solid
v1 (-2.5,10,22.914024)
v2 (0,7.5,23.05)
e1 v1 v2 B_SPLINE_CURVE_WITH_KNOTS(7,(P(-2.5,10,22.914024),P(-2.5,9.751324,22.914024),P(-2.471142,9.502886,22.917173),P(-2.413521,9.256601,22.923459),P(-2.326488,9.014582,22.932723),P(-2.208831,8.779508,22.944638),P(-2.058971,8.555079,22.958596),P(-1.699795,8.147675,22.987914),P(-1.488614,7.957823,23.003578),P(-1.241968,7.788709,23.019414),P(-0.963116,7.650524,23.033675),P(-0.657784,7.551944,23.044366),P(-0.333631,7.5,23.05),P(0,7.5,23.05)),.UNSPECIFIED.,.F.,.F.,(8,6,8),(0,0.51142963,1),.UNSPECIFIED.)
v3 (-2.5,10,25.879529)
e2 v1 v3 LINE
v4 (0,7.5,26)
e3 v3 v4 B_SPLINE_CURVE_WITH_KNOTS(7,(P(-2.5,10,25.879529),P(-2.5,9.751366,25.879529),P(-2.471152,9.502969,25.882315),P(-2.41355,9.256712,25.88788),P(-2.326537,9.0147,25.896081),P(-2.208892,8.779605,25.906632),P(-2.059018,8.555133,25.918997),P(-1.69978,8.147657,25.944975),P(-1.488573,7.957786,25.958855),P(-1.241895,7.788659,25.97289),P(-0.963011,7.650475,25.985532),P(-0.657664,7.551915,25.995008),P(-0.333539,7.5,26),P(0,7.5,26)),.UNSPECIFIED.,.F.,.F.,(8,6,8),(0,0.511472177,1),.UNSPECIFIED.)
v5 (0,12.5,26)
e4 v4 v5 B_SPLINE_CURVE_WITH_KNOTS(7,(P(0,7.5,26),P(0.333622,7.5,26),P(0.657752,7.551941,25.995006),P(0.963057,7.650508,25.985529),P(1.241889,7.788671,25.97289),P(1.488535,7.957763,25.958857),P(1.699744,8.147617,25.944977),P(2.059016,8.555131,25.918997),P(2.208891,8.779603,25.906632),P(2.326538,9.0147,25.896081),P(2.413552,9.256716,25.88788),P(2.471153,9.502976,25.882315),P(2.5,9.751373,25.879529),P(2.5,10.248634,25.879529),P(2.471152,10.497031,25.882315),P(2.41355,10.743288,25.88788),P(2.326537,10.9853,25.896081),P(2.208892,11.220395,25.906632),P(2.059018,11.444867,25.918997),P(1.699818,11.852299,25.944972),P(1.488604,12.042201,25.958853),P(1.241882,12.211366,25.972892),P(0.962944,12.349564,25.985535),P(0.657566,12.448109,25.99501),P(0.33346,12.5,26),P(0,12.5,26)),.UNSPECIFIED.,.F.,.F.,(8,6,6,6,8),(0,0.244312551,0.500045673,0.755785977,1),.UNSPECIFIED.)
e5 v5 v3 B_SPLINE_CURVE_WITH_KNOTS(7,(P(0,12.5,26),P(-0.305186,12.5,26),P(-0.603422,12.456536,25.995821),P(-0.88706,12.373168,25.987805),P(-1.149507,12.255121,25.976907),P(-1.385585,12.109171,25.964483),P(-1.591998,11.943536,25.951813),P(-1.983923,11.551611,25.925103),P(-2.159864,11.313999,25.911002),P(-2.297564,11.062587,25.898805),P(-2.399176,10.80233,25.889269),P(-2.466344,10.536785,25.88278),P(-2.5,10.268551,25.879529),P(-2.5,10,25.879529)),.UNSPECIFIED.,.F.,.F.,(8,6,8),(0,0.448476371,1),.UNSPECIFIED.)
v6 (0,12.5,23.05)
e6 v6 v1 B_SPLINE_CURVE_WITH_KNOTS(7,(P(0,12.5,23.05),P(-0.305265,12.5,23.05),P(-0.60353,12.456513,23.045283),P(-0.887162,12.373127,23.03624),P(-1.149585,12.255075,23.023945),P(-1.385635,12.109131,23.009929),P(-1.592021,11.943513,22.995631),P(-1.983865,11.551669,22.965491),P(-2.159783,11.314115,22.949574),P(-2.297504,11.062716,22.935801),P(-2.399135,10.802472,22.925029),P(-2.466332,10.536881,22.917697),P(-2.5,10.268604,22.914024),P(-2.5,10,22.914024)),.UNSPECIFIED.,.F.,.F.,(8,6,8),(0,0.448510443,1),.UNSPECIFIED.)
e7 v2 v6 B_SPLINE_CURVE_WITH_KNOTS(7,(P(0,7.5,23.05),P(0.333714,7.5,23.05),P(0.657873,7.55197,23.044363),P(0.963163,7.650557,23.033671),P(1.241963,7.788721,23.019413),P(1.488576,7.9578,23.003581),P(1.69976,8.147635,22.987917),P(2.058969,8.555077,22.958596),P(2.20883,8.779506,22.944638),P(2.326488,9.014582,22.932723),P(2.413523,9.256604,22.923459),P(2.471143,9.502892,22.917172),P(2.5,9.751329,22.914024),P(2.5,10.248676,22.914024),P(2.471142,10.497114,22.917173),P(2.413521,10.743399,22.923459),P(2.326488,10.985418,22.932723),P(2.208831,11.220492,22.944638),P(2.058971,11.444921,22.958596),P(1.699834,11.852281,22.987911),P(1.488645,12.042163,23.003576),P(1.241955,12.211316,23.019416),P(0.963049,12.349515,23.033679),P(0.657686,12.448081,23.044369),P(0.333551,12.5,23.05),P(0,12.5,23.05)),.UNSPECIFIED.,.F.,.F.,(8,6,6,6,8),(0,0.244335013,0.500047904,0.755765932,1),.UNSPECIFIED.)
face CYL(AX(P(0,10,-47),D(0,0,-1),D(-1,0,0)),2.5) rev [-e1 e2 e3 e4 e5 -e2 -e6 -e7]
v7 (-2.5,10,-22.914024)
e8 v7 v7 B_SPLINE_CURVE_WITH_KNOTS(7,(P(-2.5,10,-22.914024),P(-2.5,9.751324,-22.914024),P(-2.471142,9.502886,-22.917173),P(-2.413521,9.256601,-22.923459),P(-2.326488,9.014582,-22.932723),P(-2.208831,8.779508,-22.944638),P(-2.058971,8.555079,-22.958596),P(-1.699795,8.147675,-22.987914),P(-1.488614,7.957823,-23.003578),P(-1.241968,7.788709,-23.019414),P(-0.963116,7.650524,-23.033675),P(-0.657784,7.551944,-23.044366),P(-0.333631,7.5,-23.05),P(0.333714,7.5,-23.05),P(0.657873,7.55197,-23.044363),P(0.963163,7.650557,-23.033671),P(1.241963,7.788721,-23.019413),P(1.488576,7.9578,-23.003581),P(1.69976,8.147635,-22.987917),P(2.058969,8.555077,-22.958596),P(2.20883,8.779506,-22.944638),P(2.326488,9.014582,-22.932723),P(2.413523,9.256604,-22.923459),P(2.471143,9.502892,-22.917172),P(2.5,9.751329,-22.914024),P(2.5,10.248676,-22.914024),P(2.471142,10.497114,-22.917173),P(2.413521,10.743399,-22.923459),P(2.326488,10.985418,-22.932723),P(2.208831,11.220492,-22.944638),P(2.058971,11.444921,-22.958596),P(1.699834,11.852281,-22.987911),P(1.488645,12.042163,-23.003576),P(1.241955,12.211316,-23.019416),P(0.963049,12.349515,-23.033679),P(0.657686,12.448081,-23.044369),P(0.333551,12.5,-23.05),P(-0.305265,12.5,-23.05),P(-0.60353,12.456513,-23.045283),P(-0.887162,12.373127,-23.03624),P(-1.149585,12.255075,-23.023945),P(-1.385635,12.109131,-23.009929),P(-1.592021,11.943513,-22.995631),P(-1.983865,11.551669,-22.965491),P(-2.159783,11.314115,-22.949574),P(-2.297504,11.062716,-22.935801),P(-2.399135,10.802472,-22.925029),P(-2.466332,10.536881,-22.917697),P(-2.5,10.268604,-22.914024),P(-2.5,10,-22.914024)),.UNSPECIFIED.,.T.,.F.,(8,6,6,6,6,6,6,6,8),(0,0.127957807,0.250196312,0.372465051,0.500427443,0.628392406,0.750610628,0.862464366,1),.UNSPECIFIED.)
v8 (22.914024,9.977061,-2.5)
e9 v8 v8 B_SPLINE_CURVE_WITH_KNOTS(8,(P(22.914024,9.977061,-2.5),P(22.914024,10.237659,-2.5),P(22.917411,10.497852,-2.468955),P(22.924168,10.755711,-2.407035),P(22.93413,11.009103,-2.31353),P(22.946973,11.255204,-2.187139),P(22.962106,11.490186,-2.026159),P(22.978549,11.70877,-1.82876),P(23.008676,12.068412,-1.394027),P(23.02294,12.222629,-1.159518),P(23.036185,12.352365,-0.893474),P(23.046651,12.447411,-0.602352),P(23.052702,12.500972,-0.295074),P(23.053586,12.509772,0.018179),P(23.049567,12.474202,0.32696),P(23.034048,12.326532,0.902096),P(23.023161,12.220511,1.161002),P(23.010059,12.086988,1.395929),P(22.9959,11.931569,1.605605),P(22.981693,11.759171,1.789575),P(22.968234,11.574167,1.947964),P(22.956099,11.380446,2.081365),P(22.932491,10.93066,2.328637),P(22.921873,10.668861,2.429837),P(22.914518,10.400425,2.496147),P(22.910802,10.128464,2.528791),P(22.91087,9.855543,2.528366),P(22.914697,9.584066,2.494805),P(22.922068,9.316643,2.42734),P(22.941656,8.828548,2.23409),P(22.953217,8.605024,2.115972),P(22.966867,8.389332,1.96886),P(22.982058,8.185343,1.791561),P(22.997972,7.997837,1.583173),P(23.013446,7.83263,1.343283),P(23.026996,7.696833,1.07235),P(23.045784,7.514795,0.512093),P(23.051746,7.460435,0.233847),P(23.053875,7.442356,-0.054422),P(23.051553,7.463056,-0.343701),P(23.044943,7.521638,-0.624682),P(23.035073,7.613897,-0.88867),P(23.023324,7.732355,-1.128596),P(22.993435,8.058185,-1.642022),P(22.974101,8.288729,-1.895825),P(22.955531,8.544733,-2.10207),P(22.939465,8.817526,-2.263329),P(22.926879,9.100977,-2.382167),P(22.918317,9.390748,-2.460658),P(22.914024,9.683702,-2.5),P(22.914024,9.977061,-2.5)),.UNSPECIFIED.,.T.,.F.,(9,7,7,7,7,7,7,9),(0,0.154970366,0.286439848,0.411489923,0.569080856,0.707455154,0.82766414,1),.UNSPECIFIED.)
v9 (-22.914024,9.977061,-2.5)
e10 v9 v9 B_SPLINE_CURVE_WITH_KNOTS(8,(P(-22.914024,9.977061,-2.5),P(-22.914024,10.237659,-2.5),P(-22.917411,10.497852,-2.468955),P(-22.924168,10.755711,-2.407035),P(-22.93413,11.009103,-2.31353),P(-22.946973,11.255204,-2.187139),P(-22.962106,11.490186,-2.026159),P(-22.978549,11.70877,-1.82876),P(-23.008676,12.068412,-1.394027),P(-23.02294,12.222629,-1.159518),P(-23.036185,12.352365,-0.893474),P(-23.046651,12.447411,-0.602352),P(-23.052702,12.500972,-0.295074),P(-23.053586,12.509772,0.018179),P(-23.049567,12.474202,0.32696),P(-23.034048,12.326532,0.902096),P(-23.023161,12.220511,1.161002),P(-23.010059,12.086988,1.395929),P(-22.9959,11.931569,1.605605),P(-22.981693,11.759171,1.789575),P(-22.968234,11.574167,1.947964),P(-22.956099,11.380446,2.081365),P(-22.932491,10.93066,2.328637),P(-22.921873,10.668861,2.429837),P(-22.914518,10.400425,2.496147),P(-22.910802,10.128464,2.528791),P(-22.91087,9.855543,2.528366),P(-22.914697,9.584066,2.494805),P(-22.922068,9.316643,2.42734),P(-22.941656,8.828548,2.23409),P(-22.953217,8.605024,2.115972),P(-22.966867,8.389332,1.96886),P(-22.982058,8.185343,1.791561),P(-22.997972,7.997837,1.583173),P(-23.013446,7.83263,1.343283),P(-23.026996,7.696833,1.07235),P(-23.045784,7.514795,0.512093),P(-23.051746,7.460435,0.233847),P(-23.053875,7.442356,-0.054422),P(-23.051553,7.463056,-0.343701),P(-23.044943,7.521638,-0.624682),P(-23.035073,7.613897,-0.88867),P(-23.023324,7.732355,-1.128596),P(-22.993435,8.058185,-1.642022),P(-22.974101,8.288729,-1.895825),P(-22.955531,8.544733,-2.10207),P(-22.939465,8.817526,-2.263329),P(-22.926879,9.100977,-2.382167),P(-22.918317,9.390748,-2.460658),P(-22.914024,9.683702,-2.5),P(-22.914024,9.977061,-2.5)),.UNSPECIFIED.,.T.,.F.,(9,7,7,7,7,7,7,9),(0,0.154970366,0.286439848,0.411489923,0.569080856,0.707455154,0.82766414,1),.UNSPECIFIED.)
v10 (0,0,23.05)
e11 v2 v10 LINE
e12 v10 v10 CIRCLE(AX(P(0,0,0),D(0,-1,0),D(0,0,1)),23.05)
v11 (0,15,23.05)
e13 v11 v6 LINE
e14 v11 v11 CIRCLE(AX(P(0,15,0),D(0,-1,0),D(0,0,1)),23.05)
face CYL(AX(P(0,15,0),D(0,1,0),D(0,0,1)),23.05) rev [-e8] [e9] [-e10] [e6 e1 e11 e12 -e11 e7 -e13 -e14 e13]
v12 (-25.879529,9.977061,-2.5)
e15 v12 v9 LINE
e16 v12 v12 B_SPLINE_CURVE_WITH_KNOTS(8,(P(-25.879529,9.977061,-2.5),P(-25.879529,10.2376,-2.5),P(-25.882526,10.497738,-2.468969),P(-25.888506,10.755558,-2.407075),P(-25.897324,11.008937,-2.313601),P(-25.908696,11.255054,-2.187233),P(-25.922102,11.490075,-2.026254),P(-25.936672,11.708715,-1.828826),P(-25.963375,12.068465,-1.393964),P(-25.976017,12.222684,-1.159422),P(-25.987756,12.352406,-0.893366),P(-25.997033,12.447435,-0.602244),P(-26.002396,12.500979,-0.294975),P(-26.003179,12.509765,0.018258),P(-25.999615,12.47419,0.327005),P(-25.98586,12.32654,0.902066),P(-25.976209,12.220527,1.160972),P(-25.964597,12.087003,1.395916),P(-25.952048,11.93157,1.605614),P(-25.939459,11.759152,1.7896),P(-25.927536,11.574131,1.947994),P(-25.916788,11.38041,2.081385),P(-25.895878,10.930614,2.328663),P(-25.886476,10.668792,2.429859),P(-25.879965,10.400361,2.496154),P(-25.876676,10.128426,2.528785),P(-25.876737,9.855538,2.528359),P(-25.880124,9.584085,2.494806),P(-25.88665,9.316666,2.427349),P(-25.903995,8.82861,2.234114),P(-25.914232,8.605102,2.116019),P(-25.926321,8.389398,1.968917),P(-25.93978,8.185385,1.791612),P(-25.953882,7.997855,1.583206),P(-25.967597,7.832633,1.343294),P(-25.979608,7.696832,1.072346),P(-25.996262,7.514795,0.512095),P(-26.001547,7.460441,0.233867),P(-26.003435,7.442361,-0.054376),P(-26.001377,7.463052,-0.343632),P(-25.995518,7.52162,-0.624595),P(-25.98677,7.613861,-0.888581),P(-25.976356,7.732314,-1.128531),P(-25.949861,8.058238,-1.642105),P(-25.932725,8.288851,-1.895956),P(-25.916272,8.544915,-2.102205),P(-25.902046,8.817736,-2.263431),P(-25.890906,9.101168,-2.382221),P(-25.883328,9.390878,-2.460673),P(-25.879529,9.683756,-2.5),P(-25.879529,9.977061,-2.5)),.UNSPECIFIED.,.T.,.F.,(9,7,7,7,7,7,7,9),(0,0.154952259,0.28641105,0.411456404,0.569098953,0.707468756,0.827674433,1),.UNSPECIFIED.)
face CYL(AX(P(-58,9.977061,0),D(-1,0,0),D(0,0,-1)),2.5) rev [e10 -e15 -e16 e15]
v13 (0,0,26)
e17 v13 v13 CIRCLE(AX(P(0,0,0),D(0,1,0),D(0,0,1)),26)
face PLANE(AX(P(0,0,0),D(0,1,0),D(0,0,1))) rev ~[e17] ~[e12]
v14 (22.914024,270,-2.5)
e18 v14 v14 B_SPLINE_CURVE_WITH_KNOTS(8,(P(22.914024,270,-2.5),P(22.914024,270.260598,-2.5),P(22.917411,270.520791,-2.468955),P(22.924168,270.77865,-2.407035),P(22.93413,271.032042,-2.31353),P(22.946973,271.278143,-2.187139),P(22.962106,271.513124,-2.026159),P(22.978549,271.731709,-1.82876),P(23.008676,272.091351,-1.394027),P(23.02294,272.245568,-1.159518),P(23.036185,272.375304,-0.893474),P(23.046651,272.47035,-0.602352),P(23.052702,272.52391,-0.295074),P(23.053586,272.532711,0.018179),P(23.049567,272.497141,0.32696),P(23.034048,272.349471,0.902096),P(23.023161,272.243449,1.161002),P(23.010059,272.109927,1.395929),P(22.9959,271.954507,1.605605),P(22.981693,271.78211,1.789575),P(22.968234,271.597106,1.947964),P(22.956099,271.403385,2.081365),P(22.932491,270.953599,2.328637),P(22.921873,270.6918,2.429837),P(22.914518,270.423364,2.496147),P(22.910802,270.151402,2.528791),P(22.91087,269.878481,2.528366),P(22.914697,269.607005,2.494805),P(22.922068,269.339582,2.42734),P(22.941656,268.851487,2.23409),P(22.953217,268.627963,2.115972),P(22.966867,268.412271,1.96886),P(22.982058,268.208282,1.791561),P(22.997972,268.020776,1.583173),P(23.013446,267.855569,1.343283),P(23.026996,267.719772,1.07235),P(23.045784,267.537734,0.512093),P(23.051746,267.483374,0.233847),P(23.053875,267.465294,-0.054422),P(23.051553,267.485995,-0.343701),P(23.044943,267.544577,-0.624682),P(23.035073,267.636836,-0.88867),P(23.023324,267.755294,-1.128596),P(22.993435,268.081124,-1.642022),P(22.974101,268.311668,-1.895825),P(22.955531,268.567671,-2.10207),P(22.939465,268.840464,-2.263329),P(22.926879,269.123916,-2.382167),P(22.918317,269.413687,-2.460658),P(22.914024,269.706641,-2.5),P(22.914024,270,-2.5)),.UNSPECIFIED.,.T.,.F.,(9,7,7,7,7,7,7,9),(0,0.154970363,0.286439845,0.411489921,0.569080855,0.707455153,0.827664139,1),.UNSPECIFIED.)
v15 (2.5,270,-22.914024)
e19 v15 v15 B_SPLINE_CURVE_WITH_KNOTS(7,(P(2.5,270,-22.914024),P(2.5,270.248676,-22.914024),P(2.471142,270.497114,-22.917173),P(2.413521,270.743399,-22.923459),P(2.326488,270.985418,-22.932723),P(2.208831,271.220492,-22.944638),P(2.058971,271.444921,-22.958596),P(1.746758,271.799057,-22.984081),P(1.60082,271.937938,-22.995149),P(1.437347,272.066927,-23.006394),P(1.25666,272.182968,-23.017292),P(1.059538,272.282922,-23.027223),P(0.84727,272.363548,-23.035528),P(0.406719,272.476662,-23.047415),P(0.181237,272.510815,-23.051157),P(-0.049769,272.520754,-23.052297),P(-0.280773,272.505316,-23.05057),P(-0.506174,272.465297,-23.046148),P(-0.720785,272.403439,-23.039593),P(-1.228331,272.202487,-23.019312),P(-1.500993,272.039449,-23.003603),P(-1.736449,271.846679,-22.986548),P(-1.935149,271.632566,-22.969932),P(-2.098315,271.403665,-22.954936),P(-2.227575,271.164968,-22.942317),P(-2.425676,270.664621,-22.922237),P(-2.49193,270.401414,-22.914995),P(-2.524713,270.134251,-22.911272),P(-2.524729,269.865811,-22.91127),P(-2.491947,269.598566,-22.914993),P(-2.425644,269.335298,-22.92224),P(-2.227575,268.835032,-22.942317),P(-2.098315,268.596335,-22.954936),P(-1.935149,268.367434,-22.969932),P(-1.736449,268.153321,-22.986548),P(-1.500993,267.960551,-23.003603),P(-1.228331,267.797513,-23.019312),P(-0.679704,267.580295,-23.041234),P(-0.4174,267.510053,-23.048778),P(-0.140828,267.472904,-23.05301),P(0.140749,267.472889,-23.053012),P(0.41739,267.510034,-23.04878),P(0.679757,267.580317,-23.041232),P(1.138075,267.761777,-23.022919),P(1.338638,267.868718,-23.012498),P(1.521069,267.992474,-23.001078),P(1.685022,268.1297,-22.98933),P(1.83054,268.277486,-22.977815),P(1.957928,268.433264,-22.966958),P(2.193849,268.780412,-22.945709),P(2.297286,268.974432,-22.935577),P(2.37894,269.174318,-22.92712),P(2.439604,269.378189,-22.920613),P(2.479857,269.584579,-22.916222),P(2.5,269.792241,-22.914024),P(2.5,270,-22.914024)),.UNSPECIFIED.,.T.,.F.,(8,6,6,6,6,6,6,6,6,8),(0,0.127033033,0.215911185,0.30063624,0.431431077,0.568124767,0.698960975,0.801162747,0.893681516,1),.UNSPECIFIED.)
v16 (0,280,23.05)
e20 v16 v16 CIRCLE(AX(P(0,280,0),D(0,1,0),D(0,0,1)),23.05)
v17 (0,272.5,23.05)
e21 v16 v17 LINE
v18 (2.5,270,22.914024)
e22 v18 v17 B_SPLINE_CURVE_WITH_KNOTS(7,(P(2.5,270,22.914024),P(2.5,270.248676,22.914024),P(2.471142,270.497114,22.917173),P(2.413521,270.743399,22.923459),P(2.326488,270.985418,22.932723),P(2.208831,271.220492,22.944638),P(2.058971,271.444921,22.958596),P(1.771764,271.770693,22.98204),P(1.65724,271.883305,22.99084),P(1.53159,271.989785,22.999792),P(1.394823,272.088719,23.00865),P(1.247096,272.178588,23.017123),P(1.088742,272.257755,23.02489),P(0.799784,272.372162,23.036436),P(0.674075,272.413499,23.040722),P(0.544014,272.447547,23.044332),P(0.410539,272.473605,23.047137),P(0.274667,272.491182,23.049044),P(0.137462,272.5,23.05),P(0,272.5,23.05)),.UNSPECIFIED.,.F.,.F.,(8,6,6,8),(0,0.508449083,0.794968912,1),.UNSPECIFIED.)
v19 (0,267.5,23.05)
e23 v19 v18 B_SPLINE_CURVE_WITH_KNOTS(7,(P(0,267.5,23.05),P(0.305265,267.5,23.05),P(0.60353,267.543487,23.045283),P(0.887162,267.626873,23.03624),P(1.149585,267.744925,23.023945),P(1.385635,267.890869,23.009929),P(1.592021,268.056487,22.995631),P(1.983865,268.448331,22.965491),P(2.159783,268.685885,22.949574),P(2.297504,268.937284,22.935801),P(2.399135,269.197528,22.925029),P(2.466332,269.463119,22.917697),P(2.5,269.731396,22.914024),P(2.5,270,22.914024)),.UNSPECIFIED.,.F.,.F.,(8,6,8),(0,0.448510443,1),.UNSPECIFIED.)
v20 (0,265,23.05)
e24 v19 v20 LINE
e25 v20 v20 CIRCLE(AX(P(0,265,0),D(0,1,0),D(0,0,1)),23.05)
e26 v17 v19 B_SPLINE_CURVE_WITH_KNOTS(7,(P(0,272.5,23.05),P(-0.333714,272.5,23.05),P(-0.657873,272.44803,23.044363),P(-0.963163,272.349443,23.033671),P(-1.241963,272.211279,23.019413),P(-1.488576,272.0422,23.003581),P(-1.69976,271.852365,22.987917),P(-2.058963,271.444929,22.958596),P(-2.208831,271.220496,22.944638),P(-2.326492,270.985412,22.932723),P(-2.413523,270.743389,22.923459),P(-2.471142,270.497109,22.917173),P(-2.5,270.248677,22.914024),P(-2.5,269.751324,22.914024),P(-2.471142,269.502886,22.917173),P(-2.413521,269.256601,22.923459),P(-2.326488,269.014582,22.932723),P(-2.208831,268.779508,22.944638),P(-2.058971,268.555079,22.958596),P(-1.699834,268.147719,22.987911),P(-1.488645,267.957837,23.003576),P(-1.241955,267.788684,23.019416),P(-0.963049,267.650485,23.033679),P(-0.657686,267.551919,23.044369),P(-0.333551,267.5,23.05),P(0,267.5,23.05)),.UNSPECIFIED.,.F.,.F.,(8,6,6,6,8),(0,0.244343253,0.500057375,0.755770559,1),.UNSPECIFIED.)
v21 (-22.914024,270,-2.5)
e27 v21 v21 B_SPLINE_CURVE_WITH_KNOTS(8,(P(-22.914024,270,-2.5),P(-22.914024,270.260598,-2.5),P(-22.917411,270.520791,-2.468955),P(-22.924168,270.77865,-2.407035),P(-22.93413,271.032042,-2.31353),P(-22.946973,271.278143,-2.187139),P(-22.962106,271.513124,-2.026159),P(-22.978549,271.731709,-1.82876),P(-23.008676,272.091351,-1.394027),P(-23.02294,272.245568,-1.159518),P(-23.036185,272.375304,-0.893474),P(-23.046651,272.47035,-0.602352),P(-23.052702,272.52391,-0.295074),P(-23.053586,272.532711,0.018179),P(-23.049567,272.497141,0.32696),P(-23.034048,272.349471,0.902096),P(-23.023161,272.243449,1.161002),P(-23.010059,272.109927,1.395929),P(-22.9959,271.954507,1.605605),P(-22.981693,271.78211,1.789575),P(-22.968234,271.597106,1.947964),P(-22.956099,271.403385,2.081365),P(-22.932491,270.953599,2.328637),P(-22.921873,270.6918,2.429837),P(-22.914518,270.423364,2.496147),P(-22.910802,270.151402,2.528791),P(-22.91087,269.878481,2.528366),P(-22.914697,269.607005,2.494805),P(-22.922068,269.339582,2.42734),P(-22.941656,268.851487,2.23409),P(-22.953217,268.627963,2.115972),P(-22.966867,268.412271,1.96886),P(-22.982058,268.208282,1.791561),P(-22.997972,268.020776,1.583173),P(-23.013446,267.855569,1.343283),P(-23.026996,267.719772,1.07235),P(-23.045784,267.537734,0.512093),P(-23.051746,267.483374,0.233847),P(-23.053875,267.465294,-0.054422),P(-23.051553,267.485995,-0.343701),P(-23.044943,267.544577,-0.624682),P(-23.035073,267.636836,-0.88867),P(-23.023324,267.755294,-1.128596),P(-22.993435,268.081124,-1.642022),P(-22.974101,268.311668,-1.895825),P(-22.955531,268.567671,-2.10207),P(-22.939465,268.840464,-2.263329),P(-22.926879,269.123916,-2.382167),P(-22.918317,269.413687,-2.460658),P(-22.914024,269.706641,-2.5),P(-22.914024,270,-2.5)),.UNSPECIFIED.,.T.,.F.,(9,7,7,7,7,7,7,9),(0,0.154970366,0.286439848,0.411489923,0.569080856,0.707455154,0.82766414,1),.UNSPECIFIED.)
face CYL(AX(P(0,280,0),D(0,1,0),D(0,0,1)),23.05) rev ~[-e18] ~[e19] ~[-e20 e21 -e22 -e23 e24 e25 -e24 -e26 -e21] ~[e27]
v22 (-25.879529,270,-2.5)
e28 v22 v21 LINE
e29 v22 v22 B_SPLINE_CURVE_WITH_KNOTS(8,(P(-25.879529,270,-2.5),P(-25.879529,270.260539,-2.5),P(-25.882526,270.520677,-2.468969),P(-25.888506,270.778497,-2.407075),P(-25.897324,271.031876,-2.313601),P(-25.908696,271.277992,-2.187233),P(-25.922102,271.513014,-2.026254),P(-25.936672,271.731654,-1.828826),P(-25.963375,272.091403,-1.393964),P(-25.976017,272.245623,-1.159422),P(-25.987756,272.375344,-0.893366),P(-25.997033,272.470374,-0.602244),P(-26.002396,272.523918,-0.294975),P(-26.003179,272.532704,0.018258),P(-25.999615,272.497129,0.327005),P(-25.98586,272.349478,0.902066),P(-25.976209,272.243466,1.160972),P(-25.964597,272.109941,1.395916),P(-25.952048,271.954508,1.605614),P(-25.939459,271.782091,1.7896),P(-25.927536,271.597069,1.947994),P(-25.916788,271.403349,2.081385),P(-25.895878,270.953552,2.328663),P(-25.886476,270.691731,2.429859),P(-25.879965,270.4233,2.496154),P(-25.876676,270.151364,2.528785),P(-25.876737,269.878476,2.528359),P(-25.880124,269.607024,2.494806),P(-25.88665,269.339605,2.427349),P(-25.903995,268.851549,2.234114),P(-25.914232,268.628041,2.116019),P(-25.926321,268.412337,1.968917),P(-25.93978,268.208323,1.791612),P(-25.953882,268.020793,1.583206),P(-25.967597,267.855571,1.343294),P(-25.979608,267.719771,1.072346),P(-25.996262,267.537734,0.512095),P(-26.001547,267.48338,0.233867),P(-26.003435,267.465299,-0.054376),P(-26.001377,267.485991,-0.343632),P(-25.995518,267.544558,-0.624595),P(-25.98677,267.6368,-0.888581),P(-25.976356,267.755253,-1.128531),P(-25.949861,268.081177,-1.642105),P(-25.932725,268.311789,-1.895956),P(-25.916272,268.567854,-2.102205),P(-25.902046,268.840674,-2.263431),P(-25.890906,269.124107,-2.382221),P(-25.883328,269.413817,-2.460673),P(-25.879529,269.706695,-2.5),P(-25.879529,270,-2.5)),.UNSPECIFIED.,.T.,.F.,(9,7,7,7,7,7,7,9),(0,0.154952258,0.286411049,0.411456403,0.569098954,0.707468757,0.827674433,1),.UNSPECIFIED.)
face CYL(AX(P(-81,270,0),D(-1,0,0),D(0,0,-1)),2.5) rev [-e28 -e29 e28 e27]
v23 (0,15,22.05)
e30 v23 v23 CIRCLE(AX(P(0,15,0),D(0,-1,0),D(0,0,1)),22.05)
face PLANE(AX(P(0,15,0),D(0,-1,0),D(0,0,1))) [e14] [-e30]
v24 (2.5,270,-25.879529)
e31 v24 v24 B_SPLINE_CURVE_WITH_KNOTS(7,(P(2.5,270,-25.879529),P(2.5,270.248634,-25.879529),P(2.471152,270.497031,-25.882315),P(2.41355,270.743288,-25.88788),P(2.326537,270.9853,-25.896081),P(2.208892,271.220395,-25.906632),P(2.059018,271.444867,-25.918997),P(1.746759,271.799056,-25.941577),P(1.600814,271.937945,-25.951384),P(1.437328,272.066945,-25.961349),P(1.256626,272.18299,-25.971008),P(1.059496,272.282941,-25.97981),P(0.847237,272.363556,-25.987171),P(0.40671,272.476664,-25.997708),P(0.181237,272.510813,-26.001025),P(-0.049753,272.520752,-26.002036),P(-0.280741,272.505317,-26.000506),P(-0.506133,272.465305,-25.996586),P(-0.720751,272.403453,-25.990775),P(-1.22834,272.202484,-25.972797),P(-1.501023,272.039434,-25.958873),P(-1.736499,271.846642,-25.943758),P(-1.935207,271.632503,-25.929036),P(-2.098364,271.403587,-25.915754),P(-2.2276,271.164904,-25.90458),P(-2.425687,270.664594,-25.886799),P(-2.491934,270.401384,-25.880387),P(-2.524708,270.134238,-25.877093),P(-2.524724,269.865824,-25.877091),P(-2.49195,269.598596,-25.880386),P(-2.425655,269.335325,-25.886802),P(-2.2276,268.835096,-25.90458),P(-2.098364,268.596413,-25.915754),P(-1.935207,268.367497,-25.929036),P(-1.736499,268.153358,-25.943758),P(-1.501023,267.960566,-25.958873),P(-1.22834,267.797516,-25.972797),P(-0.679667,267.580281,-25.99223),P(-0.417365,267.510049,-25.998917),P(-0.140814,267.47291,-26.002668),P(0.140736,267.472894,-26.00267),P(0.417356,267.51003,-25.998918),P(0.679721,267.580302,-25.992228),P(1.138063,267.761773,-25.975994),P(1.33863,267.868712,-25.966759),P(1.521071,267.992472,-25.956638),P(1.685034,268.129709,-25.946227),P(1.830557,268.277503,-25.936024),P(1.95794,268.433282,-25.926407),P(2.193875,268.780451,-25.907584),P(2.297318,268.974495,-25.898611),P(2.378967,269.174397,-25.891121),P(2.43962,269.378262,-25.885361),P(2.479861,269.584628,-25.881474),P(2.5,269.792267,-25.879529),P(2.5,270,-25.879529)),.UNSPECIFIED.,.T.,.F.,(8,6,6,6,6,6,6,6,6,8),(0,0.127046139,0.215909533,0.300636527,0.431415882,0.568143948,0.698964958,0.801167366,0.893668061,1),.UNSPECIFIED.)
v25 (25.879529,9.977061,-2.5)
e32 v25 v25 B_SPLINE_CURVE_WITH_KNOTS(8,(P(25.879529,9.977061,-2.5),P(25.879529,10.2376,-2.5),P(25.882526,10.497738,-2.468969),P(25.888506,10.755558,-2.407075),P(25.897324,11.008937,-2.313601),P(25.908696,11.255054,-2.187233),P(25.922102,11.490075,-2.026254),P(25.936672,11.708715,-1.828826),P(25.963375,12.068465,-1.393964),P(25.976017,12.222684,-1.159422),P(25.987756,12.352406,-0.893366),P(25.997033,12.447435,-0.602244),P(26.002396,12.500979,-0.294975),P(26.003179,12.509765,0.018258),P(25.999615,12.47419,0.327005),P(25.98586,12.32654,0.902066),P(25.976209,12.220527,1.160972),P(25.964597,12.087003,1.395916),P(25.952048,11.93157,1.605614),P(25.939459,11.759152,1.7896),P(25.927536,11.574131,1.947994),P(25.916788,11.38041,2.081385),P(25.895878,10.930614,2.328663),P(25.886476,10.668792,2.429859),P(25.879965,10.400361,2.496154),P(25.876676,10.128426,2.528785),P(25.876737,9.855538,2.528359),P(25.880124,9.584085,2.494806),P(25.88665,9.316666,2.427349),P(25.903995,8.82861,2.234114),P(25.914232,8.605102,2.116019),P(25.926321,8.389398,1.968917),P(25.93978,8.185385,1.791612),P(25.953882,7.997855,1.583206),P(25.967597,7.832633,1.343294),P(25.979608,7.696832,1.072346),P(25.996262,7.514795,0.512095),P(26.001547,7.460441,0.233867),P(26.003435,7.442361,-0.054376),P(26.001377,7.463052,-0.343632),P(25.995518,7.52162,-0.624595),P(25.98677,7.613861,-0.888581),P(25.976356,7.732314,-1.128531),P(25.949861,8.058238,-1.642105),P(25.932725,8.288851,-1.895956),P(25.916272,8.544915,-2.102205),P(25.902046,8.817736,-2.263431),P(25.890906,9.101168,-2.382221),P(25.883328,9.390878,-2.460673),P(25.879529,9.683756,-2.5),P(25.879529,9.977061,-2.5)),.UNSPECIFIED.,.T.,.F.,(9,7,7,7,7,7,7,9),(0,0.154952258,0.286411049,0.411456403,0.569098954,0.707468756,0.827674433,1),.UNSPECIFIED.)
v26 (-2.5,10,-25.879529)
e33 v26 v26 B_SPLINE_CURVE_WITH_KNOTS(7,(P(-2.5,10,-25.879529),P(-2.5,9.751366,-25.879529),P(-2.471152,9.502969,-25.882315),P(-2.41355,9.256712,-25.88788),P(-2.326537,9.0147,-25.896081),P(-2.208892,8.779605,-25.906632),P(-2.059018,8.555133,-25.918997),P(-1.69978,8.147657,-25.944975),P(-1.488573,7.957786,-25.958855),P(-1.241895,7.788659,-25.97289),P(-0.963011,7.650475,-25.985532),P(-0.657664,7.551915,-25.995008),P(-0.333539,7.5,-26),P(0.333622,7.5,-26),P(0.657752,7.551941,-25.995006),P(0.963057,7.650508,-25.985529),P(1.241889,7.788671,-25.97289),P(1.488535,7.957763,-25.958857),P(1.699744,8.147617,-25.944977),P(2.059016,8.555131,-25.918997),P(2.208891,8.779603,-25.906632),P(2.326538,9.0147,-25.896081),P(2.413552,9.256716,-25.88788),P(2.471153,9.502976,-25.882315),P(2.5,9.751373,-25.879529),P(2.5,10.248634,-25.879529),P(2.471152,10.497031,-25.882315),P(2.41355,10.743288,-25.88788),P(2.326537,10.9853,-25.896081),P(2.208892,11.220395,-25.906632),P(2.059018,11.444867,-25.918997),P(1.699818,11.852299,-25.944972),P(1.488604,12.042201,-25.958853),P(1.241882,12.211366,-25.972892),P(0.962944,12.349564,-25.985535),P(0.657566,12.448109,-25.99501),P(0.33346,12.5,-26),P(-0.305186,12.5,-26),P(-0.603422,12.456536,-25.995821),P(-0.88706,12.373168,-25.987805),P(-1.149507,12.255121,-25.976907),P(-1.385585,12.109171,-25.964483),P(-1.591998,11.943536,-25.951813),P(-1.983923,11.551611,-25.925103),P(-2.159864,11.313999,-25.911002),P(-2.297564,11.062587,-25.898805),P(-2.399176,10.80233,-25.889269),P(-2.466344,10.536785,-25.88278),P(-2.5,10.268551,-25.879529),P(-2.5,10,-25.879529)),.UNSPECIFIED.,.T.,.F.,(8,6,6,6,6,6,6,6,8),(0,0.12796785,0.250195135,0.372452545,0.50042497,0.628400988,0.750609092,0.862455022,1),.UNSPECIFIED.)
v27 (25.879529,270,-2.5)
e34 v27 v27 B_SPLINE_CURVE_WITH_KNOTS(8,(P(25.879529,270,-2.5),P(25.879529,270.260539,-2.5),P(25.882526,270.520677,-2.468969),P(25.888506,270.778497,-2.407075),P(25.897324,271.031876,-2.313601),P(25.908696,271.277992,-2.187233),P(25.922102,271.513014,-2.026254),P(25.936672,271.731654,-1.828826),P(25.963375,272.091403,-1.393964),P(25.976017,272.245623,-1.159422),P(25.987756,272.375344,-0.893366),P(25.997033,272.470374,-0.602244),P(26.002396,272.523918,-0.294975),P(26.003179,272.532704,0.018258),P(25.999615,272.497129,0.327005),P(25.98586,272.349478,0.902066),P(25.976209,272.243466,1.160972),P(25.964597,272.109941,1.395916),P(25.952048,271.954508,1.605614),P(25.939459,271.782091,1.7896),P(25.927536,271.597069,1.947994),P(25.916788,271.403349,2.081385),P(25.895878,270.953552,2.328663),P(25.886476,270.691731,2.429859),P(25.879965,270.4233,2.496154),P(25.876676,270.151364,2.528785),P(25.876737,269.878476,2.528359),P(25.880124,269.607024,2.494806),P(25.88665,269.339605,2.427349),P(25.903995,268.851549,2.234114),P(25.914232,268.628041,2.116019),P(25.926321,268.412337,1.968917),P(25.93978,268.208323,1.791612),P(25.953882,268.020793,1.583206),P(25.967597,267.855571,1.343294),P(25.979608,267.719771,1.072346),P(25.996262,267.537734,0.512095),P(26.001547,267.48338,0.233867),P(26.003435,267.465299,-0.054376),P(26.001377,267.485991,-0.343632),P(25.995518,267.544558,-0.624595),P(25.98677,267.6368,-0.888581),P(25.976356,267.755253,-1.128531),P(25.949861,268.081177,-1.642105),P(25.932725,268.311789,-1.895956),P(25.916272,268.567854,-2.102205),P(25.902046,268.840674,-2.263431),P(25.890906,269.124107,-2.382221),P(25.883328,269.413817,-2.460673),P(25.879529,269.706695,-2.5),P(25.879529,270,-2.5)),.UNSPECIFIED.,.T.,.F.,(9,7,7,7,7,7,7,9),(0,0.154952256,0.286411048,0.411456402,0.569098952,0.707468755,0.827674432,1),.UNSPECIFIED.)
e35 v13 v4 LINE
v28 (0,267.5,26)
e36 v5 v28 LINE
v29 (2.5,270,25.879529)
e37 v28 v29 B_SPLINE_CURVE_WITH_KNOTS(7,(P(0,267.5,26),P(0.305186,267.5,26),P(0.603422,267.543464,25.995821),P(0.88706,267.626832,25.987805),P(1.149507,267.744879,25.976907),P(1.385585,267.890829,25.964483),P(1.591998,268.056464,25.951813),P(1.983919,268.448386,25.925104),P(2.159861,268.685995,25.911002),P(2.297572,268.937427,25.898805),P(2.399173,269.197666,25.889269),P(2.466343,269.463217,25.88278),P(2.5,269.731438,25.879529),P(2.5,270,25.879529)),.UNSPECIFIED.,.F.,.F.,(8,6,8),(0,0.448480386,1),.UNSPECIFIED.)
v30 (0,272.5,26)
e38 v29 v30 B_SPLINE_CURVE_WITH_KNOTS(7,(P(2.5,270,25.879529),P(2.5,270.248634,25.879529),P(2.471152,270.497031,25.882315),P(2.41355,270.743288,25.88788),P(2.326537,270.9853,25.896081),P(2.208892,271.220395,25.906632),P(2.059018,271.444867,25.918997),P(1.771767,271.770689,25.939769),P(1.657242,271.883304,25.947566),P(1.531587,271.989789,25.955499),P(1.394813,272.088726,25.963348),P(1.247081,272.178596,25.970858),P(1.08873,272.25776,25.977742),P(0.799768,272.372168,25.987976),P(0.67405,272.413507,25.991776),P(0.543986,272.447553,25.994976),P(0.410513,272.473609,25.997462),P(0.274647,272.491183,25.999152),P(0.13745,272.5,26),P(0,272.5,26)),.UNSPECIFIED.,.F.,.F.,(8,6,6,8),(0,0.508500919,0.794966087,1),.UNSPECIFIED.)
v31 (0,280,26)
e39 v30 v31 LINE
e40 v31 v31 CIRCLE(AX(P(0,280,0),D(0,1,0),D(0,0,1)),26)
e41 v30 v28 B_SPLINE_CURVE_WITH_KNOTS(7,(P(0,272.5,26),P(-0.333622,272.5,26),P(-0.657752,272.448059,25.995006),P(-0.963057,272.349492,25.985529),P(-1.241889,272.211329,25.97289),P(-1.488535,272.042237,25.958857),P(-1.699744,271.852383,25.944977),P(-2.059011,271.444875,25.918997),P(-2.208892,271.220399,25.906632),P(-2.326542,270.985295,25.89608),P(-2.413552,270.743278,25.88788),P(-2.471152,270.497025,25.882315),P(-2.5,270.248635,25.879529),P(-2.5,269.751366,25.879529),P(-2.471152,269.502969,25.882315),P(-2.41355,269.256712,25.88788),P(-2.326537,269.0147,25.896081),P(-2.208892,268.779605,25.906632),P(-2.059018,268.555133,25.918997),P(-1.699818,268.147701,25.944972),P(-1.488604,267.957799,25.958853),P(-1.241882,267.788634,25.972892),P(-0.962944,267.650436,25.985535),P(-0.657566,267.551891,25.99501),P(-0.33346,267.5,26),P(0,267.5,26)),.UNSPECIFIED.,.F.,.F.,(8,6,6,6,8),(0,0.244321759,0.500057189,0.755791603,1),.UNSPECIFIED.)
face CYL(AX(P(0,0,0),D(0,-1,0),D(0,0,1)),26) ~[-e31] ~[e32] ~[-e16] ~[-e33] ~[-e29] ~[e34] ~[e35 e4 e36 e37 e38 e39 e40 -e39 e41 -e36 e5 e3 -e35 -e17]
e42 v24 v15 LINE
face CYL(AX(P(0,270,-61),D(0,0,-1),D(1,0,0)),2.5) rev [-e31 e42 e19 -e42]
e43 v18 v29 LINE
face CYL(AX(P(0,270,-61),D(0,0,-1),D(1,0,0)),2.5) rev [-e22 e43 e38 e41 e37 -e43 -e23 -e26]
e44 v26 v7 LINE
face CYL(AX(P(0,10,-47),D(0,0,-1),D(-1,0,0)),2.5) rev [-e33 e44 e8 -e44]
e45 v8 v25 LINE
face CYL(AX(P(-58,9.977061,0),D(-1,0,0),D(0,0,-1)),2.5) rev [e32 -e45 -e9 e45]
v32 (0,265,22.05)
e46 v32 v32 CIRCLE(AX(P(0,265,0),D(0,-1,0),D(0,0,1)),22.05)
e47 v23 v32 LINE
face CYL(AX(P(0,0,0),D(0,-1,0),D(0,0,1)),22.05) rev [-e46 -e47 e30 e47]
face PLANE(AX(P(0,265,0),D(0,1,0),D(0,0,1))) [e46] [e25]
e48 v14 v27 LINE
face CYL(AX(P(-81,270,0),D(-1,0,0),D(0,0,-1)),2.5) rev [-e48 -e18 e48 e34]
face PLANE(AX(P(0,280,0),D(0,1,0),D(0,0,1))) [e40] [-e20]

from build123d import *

# Parameters (mm, degrees)
SKETCH_1_R               = 26
SKETCH_1_R_2             = 22.05
EXTRUDE_1_DEPTH          = 280
SKETCH_5_R               = 23.05
CUT_EXTRUDE_2_DEPTH      = 15
CUT_EXTRUDE_START        = -15
SKETCH_2_R               = 23.05
CUT_EXTRUDE_3_DEPTH      = 15
CUT_EXTRUDE_4_DEPTH      = 46
CUT_EXTRUDE_4_DEPTH_BACK = 47
SKETCH_6_R               = 2.5
CUT_EXTRUDE_5_DEPTH      = 60
CUT_EXTRUDE_5_DEPTH_BACK = 58
SKETCH_8_R               = 2.5
CUT_EXTRUDE_6_DEPTH      = 80
CUT_EXTRUDE_6_DEPTH_BACK = 61
SKETCH_9_R               = 2.5
CUT_EXTRUDE_7_DEPTH      = 102
CUT_EXTRUDE_7_DEPTH_BACK = 81
SKETCH_10_R              = 2.5


with BuildPart() as part:
    # 스케치1 → 보스-돌출1 (new body)
    with BuildSketch(Plane(origin=(0, 0, 0), x_dir=(1, 0, 0), z_dir=(0, 1, 0))):
        with Locations(Location((0, 0, 0), (0, 0, 270))):
            Circle(SKETCH_1_R)
        with Locations(Location((0, 0, 0), (0, 0, 270))):
            Circle(SKETCH_1_R_2, mode=Mode.SUBTRACT)
    extrude(amount=EXTRUDE_1_DEPTH)

    # 스케치5 → 컷-돌출2 (cut)
    with BuildSketch(Plane(origin=(0, 280, 0), x_dir=(1, 0, 0), z_dir=(0, 1, 0))):
        with Locations(Location((0, 0, 0), (0, 0, 270))):
            Circle(SKETCH_5_R)
    extrude(amount=-CUT_EXTRUDE_2_DEPTH, mode=Mode.SUBTRACT)

    # 스케치2 → 컷-돌출3 (cut)
    with BuildSketch(Plane.XZ.offset(CUT_EXTRUDE_START)):
        with Locations(Location((0, 0, 0), (0, 0, 90))):
            Circle(SKETCH_2_R)
    extrude(amount=CUT_EXTRUDE_3_DEPTH, mode=Mode.SUBTRACT)

    # 스케치6 → 컷-돌출4 (cut, two sides: drawn at the far end of the back side and taken through both)
    with BuildSketch(Plane.XY.offset(-CUT_EXTRUDE_4_DEPTH_BACK)):
        with Locations(Location((0, 10, 0), (0, 0, 180))):
            Circle(SKETCH_6_R)
    extrude(amount=CUT_EXTRUDE_4_DEPTH + CUT_EXTRUDE_4_DEPTH_BACK, mode=Mode.SUBTRACT)

    # 스케치8 → 컷-돌출5 (cut, two sides: drawn at the far end of the back side and taken through both)
    with BuildSketch(Plane(origin=(0, 0, 0), x_dir=(0, 0, -1), z_dir=(1, 0, 0)).offset(-CUT_EXTRUDE_5_DEPTH_BACK)):
        with Locations((0, 9.977061327)):
            Circle(SKETCH_8_R)
    extrude(amount=CUT_EXTRUDE_5_DEPTH + CUT_EXTRUDE_5_DEPTH_BACK, mode=Mode.SUBTRACT)

    # 스케치9 → 컷-돌출6 (cut, two sides: drawn at the far end of the back side and taken through both)
    with BuildSketch(Plane.XY.offset(-CUT_EXTRUDE_6_DEPTH_BACK)):
        with Locations((0, 270)):
            Circle(SKETCH_9_R)
    extrude(amount=CUT_EXTRUDE_6_DEPTH + CUT_EXTRUDE_6_DEPTH_BACK, mode=Mode.SUBTRACT)

    # 스케치10 → 컷-돌출7 (cut, two sides: drawn at the far end of the back side and taken through both)
    with BuildSketch(Plane(origin=(0, 0, 0), x_dir=(0, 0, -1), z_dir=(1, 0, 0)).offset(-CUT_EXTRUDE_7_DEPTH_BACK)):
        with Locations((0, 270)):
            Circle(SKETCH_10_R)
    extrude(amount=CUT_EXTRUDE_7_DEPTH + CUT_EXTRUDE_7_DEPTH_BACK, mode=Mode.SUBTRACT)


solid = part.part
